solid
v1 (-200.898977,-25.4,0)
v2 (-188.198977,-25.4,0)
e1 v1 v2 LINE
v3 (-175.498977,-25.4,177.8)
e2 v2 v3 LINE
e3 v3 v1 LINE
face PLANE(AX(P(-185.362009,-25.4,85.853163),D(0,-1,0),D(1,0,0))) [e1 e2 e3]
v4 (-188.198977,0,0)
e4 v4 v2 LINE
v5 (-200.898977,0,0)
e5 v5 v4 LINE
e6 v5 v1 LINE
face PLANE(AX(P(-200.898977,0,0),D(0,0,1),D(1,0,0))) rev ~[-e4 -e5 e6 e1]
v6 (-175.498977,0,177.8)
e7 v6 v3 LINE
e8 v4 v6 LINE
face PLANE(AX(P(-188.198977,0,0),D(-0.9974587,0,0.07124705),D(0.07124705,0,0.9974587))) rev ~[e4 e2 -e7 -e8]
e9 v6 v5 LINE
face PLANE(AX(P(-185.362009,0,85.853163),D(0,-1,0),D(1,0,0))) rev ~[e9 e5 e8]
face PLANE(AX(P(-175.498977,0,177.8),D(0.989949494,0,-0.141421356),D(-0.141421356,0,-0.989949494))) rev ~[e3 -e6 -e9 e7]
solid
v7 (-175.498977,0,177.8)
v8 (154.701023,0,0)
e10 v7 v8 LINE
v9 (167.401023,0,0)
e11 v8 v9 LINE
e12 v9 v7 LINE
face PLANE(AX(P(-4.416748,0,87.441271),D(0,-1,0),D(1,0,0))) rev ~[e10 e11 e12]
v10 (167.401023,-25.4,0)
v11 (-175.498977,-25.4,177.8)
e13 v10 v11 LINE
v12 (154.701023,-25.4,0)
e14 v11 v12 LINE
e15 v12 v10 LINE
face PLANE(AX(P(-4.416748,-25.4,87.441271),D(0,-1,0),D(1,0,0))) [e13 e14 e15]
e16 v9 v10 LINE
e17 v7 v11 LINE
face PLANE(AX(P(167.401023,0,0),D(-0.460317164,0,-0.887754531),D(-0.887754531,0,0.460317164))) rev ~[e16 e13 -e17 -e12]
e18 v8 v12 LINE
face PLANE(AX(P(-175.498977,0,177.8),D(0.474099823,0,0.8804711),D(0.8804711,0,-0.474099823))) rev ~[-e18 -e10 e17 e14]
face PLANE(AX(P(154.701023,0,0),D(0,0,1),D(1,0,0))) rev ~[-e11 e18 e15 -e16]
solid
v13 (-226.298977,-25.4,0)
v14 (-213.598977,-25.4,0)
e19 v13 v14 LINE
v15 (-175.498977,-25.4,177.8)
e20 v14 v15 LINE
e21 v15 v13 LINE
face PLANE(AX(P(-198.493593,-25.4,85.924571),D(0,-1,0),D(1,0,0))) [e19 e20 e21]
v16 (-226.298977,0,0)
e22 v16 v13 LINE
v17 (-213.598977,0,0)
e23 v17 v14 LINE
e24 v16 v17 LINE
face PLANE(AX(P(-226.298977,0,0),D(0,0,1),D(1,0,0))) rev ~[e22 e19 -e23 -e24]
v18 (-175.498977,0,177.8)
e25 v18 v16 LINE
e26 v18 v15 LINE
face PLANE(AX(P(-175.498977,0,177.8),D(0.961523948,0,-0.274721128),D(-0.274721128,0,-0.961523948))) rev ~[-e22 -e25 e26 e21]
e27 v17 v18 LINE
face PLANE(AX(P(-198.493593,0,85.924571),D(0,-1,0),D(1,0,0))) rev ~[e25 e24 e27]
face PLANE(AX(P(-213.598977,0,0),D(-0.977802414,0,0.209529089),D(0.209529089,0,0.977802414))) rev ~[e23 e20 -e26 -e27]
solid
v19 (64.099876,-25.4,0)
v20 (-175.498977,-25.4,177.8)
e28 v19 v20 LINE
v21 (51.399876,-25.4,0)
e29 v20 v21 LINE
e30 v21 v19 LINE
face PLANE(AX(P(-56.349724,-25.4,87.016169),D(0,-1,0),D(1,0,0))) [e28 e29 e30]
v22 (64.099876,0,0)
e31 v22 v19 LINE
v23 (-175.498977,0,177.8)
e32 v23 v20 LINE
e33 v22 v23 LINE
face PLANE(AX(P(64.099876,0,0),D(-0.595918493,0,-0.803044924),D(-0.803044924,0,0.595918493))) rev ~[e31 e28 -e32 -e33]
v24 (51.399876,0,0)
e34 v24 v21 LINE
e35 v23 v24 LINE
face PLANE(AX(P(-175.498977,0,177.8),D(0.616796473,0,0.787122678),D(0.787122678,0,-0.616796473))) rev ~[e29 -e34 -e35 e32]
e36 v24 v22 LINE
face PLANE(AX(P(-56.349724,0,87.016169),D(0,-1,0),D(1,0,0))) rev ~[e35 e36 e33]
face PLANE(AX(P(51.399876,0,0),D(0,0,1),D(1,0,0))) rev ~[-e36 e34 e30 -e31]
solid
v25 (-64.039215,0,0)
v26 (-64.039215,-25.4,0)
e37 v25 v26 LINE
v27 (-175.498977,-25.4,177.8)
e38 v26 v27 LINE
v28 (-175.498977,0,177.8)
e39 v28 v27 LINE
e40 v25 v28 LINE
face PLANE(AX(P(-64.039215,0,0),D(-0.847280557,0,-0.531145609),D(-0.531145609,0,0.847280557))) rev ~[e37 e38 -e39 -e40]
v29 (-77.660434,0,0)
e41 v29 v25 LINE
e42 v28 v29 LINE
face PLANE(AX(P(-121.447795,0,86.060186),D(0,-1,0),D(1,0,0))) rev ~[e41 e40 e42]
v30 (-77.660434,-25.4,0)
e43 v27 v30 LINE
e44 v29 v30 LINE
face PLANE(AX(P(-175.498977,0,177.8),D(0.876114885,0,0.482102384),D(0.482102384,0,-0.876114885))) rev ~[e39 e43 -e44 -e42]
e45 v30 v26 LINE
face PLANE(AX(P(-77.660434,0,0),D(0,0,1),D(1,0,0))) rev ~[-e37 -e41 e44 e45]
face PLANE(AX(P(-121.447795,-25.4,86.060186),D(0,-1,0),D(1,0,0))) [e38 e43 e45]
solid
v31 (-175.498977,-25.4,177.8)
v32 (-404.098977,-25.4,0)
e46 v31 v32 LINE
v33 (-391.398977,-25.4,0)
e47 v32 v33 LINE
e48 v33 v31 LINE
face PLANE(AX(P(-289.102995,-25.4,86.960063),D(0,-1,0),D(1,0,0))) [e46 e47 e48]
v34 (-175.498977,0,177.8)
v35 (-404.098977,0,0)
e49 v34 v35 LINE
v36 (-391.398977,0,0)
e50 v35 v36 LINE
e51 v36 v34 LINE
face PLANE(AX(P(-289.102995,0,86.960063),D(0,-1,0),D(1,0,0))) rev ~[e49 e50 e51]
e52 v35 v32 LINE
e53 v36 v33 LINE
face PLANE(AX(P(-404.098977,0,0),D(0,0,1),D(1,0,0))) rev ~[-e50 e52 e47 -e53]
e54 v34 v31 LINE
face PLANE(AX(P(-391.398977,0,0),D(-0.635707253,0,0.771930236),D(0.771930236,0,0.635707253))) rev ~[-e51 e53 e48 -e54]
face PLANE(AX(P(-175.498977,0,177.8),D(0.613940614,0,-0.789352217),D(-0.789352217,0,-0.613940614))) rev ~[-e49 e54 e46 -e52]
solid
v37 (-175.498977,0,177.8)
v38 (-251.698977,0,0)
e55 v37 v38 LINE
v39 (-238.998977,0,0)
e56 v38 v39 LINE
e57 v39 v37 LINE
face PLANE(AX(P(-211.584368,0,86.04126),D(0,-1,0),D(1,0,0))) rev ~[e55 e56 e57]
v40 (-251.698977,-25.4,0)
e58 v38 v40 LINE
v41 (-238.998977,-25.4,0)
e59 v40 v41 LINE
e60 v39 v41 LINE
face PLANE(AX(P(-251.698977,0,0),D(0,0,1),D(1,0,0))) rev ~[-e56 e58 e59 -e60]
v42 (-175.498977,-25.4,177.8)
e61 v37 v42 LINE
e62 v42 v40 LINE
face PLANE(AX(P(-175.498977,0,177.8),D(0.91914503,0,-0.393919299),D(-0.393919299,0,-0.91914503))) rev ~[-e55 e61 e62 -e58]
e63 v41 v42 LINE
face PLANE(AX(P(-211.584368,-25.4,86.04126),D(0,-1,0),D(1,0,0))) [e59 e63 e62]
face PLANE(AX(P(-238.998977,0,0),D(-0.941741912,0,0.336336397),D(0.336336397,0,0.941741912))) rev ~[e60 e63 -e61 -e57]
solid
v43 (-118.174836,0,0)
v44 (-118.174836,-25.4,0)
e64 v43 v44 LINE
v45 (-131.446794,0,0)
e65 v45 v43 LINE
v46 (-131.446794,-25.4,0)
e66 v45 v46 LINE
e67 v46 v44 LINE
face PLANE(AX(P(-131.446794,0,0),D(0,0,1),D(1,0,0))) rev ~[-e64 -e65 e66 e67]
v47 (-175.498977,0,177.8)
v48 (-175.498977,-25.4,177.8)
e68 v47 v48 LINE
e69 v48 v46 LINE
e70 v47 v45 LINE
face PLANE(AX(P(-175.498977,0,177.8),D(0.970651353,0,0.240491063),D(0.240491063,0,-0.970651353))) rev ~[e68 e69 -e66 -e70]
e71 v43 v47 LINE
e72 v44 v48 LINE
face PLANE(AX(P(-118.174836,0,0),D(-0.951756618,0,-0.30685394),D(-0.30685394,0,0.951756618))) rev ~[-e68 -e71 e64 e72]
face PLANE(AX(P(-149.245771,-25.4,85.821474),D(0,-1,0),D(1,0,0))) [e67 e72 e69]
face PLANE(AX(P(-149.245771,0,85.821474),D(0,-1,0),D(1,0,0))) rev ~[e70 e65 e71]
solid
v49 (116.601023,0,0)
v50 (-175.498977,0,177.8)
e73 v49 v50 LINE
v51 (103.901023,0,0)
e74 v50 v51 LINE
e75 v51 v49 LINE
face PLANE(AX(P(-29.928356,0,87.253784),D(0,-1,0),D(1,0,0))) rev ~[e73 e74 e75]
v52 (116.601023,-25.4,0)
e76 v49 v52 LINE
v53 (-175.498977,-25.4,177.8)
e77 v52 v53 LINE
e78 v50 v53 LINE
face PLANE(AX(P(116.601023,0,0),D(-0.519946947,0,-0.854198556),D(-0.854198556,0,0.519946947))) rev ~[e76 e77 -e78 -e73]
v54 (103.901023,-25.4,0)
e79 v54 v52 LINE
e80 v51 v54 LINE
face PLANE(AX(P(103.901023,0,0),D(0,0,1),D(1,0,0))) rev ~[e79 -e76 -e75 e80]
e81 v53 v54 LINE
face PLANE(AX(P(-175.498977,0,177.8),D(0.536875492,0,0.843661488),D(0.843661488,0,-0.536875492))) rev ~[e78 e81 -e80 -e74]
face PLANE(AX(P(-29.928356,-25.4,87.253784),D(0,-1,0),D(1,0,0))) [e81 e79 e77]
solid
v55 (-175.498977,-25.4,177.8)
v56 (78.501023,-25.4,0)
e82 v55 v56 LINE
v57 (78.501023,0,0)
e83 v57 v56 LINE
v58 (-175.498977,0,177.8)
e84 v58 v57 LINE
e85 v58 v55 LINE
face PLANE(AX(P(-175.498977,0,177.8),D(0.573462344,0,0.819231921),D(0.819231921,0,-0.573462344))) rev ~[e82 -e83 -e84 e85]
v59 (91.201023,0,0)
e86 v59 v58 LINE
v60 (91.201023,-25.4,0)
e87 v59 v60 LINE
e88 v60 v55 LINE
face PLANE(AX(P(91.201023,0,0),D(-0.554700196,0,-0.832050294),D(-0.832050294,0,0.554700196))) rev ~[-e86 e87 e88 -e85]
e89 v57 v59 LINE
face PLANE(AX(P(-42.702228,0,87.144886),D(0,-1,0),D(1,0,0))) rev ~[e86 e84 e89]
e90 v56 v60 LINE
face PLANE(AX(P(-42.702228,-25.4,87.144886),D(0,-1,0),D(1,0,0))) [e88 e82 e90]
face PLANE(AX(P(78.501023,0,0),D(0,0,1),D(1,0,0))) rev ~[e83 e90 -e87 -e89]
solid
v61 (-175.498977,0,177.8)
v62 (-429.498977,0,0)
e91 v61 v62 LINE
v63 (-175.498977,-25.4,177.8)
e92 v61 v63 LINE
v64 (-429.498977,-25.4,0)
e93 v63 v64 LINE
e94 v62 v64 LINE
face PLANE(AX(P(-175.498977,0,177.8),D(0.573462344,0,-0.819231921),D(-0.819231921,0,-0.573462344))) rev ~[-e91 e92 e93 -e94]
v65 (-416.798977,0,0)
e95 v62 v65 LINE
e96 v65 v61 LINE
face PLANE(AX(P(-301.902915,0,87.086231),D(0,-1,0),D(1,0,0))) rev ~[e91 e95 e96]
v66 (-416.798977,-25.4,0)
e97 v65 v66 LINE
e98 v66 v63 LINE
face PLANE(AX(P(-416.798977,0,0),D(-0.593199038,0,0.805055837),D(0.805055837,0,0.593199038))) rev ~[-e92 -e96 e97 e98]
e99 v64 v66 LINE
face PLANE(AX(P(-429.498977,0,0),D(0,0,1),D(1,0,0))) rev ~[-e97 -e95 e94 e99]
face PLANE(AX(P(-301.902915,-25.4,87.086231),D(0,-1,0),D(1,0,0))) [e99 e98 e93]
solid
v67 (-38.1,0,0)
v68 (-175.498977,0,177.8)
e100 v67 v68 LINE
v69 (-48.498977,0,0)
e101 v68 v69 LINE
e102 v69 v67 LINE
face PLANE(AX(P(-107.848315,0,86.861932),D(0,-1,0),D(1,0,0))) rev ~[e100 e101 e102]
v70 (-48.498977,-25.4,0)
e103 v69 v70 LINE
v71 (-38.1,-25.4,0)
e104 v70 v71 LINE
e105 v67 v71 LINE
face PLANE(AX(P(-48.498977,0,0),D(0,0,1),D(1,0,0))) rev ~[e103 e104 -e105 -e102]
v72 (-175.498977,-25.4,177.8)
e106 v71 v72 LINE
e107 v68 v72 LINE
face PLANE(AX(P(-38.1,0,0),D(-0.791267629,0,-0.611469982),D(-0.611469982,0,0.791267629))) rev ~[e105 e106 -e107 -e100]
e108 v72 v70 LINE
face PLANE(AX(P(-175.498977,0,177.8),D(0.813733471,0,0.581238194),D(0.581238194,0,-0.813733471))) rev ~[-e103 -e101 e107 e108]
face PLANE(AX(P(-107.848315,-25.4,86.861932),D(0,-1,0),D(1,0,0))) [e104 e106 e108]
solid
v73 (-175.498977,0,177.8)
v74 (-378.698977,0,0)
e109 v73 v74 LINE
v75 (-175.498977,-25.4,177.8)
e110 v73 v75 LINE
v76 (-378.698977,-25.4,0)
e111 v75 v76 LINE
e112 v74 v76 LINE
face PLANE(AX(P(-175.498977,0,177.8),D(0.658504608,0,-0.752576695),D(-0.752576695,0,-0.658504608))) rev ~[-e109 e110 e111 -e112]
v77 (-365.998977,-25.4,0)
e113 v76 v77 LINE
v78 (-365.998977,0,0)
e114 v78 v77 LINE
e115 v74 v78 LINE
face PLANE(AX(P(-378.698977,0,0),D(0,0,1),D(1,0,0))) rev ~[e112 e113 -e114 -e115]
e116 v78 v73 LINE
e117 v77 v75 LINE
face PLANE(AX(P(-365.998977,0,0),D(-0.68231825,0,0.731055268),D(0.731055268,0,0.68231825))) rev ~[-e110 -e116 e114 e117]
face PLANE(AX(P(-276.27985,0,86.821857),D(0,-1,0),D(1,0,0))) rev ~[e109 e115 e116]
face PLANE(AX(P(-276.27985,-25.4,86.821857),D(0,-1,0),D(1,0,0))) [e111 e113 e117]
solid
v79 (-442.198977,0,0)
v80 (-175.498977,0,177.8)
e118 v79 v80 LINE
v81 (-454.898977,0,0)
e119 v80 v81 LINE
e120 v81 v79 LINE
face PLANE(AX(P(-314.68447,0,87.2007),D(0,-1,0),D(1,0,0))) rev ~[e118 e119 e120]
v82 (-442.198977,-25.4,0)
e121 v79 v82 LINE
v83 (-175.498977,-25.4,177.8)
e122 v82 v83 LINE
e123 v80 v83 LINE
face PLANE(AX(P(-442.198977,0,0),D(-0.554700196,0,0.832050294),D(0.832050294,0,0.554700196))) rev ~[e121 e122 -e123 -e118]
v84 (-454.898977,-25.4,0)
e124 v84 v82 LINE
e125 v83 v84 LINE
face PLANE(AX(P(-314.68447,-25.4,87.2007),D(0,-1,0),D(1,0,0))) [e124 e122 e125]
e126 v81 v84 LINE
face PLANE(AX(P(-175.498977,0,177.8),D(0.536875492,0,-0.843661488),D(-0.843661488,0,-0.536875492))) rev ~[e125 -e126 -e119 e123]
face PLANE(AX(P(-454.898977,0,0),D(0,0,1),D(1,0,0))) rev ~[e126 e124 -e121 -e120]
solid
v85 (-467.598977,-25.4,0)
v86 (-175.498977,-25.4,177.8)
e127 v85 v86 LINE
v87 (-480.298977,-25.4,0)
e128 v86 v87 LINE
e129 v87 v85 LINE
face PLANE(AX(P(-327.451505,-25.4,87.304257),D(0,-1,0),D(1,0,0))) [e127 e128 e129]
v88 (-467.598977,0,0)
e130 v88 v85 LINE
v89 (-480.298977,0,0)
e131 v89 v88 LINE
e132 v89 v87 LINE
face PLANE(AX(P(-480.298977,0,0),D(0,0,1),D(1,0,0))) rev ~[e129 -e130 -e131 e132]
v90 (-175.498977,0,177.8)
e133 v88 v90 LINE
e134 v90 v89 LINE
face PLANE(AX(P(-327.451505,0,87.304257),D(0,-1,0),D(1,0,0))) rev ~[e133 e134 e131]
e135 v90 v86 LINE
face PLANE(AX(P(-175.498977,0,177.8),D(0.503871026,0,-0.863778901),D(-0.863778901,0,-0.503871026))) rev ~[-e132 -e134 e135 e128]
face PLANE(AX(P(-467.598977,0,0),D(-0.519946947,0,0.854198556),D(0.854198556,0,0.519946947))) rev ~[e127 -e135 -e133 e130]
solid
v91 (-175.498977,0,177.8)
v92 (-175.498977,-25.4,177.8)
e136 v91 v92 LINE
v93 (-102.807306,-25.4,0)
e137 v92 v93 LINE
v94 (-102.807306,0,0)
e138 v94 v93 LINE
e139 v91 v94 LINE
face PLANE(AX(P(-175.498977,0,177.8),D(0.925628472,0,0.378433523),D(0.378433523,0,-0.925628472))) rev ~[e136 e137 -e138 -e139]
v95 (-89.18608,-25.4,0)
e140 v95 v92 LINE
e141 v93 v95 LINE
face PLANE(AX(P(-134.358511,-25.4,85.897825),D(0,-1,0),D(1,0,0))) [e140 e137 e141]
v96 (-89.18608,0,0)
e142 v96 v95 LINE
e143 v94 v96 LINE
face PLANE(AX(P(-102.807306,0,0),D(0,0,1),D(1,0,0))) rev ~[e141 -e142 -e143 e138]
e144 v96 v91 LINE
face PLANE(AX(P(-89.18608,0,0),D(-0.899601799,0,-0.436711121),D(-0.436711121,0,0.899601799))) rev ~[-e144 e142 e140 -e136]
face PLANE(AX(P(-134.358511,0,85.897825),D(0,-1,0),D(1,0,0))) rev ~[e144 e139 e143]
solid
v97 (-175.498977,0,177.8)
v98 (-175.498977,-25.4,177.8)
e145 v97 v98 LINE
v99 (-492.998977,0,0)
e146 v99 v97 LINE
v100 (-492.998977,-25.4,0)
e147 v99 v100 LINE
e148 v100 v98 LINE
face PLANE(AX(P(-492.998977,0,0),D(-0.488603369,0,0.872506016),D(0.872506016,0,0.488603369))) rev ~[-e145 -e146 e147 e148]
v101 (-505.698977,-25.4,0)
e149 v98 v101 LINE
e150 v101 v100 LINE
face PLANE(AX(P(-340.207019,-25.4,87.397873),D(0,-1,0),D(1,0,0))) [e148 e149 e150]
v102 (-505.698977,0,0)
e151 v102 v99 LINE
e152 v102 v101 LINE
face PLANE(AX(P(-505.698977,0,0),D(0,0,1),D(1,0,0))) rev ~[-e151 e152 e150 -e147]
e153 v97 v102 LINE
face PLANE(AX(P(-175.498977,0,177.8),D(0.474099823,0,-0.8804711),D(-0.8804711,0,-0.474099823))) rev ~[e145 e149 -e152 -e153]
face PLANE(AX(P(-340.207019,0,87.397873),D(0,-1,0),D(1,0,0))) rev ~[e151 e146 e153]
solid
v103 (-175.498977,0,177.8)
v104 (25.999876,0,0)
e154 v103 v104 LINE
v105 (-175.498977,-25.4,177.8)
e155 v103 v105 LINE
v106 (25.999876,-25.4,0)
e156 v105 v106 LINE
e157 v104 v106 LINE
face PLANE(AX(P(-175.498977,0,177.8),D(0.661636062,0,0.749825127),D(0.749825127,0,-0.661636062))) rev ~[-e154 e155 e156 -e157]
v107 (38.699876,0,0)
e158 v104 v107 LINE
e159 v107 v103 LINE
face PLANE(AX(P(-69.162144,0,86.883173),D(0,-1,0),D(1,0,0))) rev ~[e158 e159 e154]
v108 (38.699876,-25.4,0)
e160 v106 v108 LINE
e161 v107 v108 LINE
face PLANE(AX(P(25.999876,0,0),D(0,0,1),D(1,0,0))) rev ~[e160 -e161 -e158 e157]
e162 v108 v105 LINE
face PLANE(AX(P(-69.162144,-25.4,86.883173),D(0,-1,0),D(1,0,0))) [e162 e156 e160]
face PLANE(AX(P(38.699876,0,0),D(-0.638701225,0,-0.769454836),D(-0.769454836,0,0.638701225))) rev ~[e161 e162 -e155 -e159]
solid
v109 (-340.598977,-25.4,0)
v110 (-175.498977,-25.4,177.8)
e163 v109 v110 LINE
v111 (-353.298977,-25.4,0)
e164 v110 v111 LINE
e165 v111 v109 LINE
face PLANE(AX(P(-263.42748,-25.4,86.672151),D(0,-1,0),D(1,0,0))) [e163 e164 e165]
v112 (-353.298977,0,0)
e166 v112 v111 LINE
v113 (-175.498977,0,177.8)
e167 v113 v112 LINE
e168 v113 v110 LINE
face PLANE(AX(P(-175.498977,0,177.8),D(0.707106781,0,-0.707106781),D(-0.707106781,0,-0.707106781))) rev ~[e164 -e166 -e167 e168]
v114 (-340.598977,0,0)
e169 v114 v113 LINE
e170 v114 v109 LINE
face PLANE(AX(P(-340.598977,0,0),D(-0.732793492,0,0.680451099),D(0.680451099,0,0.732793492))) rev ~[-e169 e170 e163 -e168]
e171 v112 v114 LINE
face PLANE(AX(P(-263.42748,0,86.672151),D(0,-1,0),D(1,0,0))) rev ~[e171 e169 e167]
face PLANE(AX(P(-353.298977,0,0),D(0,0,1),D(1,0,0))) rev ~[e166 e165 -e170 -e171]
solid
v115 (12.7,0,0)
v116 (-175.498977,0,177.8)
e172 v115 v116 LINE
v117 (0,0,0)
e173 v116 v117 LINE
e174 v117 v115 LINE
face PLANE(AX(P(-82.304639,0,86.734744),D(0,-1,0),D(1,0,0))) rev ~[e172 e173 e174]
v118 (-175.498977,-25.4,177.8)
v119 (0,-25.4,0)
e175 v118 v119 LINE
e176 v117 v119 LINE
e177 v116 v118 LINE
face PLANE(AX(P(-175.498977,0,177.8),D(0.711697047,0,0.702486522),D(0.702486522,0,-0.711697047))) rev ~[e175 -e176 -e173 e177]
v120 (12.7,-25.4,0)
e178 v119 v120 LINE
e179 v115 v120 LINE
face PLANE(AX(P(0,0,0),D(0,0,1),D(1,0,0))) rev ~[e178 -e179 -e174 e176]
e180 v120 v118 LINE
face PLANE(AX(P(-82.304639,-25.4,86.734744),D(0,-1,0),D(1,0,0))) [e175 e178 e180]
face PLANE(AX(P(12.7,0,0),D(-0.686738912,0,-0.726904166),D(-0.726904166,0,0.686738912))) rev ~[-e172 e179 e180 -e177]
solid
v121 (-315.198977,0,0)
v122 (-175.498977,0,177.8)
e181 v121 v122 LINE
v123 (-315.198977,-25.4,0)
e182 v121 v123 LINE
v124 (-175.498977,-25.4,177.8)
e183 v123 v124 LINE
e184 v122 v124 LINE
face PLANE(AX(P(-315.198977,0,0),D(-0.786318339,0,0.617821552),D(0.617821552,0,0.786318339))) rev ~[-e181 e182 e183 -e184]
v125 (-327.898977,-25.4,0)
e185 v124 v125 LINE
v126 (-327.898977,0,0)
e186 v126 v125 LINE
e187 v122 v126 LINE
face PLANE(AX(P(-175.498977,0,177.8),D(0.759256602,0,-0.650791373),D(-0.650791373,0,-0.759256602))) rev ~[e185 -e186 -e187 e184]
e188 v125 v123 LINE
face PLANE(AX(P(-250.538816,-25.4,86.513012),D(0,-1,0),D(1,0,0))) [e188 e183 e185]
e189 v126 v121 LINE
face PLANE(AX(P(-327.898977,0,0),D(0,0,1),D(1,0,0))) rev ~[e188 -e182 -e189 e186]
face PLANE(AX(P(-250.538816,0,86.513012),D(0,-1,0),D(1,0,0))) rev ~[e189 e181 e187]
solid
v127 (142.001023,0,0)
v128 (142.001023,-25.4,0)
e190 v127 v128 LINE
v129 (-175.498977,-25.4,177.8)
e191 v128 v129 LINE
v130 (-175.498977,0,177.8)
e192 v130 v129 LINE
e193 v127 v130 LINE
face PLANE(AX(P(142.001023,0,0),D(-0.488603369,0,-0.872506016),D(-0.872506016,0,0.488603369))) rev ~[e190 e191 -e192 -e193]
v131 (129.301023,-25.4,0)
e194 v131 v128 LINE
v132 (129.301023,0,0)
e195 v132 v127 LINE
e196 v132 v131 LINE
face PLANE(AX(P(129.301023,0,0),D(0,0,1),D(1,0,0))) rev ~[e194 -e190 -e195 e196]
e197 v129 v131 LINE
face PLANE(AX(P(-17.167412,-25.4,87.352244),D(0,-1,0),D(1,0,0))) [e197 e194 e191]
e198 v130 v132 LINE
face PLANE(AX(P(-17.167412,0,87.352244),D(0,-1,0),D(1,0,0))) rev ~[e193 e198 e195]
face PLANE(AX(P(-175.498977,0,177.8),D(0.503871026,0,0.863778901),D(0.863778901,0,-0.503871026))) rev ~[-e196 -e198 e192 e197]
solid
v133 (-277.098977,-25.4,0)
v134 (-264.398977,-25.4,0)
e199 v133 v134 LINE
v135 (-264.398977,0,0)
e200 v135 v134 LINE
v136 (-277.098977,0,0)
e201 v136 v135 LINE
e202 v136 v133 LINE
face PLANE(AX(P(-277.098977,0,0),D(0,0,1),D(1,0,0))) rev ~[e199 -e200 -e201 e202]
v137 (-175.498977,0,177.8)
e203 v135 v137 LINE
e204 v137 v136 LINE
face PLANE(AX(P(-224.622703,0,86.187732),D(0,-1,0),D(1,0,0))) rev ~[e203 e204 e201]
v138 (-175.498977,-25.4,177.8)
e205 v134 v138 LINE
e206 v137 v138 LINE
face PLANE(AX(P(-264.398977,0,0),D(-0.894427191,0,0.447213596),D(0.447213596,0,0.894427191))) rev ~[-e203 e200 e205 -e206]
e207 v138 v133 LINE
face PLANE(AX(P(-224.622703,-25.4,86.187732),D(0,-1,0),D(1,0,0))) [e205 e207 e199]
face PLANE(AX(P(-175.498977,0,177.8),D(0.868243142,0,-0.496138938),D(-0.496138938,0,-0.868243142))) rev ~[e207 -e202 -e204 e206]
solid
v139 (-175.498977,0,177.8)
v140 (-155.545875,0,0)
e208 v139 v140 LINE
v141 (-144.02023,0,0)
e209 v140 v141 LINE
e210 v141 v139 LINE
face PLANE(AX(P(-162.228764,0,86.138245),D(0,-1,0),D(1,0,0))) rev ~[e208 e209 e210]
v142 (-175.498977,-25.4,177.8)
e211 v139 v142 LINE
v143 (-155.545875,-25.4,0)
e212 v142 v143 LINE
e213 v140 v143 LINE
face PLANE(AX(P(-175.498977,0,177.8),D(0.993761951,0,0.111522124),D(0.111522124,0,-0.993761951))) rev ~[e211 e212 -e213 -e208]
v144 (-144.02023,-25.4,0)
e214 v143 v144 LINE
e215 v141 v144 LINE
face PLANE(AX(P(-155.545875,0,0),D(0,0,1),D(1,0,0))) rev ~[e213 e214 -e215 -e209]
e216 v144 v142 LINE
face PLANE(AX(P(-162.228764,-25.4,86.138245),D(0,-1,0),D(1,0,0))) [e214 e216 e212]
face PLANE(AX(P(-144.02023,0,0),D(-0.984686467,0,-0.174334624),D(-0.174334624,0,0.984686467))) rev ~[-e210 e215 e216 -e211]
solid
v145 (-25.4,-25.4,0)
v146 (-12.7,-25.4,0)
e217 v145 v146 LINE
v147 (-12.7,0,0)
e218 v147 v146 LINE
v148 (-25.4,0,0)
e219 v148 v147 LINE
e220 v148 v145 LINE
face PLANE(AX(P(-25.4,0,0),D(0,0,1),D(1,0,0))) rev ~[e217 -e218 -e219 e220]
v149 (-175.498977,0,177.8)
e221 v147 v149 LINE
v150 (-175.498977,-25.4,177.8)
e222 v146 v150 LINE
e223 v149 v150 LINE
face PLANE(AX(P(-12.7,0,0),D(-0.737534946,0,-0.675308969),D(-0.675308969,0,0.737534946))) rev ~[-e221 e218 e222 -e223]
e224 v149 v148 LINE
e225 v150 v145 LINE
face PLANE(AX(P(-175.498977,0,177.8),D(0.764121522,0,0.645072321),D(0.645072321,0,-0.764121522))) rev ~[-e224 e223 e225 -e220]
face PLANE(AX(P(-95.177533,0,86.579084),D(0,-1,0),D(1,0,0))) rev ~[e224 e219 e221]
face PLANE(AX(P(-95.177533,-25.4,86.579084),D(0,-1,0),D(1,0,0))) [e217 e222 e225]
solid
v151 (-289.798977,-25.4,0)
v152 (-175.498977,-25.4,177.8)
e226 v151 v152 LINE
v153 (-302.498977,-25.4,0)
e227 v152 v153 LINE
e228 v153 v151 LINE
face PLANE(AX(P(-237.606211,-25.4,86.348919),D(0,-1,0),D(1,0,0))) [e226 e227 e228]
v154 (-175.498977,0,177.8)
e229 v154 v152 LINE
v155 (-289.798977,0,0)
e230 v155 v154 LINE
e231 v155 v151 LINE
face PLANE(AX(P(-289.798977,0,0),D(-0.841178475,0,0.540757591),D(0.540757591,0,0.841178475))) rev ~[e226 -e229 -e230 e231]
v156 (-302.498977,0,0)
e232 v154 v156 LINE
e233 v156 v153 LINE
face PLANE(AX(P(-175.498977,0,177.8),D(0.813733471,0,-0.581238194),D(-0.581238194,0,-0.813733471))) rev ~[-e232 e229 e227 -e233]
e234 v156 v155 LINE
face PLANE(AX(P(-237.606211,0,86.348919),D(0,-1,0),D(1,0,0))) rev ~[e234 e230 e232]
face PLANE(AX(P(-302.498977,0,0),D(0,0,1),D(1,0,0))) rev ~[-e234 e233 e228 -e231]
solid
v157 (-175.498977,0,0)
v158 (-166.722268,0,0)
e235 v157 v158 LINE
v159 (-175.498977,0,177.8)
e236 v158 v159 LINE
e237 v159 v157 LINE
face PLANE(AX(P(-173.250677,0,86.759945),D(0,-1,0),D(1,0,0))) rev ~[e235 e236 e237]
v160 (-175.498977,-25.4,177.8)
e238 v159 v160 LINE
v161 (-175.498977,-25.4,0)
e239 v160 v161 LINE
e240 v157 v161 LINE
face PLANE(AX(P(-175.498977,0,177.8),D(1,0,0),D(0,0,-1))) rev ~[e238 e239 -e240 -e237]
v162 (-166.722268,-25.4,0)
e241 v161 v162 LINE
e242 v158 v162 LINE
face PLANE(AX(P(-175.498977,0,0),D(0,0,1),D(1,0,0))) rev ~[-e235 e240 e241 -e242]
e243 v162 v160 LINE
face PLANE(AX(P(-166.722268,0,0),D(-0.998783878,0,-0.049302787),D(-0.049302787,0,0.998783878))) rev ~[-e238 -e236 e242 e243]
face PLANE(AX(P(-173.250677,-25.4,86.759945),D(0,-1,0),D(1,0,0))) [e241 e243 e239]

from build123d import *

# Parameters (mm, degrees)
F1_DEPTH = 25.4


with BuildPart() as f1:
    # F0 (on Front) → F1 (new body)
    with BuildSketch(Plane.XZ):
        Polygon((-166.722268, 0), (-175.498977, 177.8), (-175.498977, 0), align=None)
        Polygon((-144.02023, 0), (-175.498977, 177.8), (-155.545875, 0), align=None)
        Polygon((-118.174836, 0), (-175.498977, 177.8), (-131.446794, 0), align=None)
        Polygon((-89.18608, 0), (-175.498977, 177.8), (-102.807306, 0), align=None)
        Polygon((-64.039215, 0), (-175.498977, 177.8), (-77.660434, 0), align=None)
        Polygon((-38.1, 0), (-175.498977, 177.8), (-48.498977, 0), align=None)
        Polygon((-12.7, 0), (-175.498977, 177.8), (-25.4, 0), align=None)
        Polygon((12.7, 0), (-175.498977, 177.8), (0, 0), align=None)
        Polygon((38.699876, 0), (-175.498977, 177.8), (25.999876, 0), align=None)
        Polygon((51.399876, 0), (64.099876, 0), (-175.498977, 177.8), align=None)
        Polygon((-175.498977, 177.8), (78.501023, 0), (91.201023, 0), align=None)
        Polygon((116.601023, 0), (-175.498977, 177.8), (103.901023, 0), align=None)
        Polygon((142.001023, 0), (-175.498977, 177.8), (129.301023, 0), align=None)
        Polygon((167.401023, 0), (-175.498977, 177.8), (154.701023, 0), align=None)
        Polygon((-188.198977, 0), (-175.498977, 177.8), (-200.898977, 0), align=None)
        Polygon((-213.598977, 0), (-175.498977, 177.8), (-226.298977, 0), align=None)
        Polygon((-238.998977, 0), (-175.498977, 177.8), (-251.698977, 0), align=None)
        Polygon((-264.398977, 0), (-175.498977, 177.8), (-277.098977, 0), align=None)
        Polygon((-289.798977, 0), (-175.498977, 177.8), (-302.498977, 0), align=None)
        Polygon((-315.198977, 0), (-175.498977, 177.8), (-327.898977, 0), align=None)
        Polygon((-340.598977, 0), (-175.498977, 177.8), (-353.298977, 0), align=None)
        Polygon((-365.998977, 0), (-175.498977, 177.8), (-378.698977, 0), align=None)
        Polygon((-391.398977, 0), (-175.498977, 177.8), (-404.098977, 0), align=None)
        Polygon((-416.798977, 0), (-175.498977, 177.8), (-429.498977, 0), align=None)
        Polygon((-442.198977, 0), (-175.498977, 177.8), (-454.898977, 0), align=None)
        Polygon((-467.598977, 0), (-175.498977, 177.8), (-480.298977, 0), align=None)
        Polygon((-492.998977, 0), (-175.498977, 177.8), (-505.698977, 0), align=None)
    extrude(amount=F1_DEPTH)


solid = f1.part
